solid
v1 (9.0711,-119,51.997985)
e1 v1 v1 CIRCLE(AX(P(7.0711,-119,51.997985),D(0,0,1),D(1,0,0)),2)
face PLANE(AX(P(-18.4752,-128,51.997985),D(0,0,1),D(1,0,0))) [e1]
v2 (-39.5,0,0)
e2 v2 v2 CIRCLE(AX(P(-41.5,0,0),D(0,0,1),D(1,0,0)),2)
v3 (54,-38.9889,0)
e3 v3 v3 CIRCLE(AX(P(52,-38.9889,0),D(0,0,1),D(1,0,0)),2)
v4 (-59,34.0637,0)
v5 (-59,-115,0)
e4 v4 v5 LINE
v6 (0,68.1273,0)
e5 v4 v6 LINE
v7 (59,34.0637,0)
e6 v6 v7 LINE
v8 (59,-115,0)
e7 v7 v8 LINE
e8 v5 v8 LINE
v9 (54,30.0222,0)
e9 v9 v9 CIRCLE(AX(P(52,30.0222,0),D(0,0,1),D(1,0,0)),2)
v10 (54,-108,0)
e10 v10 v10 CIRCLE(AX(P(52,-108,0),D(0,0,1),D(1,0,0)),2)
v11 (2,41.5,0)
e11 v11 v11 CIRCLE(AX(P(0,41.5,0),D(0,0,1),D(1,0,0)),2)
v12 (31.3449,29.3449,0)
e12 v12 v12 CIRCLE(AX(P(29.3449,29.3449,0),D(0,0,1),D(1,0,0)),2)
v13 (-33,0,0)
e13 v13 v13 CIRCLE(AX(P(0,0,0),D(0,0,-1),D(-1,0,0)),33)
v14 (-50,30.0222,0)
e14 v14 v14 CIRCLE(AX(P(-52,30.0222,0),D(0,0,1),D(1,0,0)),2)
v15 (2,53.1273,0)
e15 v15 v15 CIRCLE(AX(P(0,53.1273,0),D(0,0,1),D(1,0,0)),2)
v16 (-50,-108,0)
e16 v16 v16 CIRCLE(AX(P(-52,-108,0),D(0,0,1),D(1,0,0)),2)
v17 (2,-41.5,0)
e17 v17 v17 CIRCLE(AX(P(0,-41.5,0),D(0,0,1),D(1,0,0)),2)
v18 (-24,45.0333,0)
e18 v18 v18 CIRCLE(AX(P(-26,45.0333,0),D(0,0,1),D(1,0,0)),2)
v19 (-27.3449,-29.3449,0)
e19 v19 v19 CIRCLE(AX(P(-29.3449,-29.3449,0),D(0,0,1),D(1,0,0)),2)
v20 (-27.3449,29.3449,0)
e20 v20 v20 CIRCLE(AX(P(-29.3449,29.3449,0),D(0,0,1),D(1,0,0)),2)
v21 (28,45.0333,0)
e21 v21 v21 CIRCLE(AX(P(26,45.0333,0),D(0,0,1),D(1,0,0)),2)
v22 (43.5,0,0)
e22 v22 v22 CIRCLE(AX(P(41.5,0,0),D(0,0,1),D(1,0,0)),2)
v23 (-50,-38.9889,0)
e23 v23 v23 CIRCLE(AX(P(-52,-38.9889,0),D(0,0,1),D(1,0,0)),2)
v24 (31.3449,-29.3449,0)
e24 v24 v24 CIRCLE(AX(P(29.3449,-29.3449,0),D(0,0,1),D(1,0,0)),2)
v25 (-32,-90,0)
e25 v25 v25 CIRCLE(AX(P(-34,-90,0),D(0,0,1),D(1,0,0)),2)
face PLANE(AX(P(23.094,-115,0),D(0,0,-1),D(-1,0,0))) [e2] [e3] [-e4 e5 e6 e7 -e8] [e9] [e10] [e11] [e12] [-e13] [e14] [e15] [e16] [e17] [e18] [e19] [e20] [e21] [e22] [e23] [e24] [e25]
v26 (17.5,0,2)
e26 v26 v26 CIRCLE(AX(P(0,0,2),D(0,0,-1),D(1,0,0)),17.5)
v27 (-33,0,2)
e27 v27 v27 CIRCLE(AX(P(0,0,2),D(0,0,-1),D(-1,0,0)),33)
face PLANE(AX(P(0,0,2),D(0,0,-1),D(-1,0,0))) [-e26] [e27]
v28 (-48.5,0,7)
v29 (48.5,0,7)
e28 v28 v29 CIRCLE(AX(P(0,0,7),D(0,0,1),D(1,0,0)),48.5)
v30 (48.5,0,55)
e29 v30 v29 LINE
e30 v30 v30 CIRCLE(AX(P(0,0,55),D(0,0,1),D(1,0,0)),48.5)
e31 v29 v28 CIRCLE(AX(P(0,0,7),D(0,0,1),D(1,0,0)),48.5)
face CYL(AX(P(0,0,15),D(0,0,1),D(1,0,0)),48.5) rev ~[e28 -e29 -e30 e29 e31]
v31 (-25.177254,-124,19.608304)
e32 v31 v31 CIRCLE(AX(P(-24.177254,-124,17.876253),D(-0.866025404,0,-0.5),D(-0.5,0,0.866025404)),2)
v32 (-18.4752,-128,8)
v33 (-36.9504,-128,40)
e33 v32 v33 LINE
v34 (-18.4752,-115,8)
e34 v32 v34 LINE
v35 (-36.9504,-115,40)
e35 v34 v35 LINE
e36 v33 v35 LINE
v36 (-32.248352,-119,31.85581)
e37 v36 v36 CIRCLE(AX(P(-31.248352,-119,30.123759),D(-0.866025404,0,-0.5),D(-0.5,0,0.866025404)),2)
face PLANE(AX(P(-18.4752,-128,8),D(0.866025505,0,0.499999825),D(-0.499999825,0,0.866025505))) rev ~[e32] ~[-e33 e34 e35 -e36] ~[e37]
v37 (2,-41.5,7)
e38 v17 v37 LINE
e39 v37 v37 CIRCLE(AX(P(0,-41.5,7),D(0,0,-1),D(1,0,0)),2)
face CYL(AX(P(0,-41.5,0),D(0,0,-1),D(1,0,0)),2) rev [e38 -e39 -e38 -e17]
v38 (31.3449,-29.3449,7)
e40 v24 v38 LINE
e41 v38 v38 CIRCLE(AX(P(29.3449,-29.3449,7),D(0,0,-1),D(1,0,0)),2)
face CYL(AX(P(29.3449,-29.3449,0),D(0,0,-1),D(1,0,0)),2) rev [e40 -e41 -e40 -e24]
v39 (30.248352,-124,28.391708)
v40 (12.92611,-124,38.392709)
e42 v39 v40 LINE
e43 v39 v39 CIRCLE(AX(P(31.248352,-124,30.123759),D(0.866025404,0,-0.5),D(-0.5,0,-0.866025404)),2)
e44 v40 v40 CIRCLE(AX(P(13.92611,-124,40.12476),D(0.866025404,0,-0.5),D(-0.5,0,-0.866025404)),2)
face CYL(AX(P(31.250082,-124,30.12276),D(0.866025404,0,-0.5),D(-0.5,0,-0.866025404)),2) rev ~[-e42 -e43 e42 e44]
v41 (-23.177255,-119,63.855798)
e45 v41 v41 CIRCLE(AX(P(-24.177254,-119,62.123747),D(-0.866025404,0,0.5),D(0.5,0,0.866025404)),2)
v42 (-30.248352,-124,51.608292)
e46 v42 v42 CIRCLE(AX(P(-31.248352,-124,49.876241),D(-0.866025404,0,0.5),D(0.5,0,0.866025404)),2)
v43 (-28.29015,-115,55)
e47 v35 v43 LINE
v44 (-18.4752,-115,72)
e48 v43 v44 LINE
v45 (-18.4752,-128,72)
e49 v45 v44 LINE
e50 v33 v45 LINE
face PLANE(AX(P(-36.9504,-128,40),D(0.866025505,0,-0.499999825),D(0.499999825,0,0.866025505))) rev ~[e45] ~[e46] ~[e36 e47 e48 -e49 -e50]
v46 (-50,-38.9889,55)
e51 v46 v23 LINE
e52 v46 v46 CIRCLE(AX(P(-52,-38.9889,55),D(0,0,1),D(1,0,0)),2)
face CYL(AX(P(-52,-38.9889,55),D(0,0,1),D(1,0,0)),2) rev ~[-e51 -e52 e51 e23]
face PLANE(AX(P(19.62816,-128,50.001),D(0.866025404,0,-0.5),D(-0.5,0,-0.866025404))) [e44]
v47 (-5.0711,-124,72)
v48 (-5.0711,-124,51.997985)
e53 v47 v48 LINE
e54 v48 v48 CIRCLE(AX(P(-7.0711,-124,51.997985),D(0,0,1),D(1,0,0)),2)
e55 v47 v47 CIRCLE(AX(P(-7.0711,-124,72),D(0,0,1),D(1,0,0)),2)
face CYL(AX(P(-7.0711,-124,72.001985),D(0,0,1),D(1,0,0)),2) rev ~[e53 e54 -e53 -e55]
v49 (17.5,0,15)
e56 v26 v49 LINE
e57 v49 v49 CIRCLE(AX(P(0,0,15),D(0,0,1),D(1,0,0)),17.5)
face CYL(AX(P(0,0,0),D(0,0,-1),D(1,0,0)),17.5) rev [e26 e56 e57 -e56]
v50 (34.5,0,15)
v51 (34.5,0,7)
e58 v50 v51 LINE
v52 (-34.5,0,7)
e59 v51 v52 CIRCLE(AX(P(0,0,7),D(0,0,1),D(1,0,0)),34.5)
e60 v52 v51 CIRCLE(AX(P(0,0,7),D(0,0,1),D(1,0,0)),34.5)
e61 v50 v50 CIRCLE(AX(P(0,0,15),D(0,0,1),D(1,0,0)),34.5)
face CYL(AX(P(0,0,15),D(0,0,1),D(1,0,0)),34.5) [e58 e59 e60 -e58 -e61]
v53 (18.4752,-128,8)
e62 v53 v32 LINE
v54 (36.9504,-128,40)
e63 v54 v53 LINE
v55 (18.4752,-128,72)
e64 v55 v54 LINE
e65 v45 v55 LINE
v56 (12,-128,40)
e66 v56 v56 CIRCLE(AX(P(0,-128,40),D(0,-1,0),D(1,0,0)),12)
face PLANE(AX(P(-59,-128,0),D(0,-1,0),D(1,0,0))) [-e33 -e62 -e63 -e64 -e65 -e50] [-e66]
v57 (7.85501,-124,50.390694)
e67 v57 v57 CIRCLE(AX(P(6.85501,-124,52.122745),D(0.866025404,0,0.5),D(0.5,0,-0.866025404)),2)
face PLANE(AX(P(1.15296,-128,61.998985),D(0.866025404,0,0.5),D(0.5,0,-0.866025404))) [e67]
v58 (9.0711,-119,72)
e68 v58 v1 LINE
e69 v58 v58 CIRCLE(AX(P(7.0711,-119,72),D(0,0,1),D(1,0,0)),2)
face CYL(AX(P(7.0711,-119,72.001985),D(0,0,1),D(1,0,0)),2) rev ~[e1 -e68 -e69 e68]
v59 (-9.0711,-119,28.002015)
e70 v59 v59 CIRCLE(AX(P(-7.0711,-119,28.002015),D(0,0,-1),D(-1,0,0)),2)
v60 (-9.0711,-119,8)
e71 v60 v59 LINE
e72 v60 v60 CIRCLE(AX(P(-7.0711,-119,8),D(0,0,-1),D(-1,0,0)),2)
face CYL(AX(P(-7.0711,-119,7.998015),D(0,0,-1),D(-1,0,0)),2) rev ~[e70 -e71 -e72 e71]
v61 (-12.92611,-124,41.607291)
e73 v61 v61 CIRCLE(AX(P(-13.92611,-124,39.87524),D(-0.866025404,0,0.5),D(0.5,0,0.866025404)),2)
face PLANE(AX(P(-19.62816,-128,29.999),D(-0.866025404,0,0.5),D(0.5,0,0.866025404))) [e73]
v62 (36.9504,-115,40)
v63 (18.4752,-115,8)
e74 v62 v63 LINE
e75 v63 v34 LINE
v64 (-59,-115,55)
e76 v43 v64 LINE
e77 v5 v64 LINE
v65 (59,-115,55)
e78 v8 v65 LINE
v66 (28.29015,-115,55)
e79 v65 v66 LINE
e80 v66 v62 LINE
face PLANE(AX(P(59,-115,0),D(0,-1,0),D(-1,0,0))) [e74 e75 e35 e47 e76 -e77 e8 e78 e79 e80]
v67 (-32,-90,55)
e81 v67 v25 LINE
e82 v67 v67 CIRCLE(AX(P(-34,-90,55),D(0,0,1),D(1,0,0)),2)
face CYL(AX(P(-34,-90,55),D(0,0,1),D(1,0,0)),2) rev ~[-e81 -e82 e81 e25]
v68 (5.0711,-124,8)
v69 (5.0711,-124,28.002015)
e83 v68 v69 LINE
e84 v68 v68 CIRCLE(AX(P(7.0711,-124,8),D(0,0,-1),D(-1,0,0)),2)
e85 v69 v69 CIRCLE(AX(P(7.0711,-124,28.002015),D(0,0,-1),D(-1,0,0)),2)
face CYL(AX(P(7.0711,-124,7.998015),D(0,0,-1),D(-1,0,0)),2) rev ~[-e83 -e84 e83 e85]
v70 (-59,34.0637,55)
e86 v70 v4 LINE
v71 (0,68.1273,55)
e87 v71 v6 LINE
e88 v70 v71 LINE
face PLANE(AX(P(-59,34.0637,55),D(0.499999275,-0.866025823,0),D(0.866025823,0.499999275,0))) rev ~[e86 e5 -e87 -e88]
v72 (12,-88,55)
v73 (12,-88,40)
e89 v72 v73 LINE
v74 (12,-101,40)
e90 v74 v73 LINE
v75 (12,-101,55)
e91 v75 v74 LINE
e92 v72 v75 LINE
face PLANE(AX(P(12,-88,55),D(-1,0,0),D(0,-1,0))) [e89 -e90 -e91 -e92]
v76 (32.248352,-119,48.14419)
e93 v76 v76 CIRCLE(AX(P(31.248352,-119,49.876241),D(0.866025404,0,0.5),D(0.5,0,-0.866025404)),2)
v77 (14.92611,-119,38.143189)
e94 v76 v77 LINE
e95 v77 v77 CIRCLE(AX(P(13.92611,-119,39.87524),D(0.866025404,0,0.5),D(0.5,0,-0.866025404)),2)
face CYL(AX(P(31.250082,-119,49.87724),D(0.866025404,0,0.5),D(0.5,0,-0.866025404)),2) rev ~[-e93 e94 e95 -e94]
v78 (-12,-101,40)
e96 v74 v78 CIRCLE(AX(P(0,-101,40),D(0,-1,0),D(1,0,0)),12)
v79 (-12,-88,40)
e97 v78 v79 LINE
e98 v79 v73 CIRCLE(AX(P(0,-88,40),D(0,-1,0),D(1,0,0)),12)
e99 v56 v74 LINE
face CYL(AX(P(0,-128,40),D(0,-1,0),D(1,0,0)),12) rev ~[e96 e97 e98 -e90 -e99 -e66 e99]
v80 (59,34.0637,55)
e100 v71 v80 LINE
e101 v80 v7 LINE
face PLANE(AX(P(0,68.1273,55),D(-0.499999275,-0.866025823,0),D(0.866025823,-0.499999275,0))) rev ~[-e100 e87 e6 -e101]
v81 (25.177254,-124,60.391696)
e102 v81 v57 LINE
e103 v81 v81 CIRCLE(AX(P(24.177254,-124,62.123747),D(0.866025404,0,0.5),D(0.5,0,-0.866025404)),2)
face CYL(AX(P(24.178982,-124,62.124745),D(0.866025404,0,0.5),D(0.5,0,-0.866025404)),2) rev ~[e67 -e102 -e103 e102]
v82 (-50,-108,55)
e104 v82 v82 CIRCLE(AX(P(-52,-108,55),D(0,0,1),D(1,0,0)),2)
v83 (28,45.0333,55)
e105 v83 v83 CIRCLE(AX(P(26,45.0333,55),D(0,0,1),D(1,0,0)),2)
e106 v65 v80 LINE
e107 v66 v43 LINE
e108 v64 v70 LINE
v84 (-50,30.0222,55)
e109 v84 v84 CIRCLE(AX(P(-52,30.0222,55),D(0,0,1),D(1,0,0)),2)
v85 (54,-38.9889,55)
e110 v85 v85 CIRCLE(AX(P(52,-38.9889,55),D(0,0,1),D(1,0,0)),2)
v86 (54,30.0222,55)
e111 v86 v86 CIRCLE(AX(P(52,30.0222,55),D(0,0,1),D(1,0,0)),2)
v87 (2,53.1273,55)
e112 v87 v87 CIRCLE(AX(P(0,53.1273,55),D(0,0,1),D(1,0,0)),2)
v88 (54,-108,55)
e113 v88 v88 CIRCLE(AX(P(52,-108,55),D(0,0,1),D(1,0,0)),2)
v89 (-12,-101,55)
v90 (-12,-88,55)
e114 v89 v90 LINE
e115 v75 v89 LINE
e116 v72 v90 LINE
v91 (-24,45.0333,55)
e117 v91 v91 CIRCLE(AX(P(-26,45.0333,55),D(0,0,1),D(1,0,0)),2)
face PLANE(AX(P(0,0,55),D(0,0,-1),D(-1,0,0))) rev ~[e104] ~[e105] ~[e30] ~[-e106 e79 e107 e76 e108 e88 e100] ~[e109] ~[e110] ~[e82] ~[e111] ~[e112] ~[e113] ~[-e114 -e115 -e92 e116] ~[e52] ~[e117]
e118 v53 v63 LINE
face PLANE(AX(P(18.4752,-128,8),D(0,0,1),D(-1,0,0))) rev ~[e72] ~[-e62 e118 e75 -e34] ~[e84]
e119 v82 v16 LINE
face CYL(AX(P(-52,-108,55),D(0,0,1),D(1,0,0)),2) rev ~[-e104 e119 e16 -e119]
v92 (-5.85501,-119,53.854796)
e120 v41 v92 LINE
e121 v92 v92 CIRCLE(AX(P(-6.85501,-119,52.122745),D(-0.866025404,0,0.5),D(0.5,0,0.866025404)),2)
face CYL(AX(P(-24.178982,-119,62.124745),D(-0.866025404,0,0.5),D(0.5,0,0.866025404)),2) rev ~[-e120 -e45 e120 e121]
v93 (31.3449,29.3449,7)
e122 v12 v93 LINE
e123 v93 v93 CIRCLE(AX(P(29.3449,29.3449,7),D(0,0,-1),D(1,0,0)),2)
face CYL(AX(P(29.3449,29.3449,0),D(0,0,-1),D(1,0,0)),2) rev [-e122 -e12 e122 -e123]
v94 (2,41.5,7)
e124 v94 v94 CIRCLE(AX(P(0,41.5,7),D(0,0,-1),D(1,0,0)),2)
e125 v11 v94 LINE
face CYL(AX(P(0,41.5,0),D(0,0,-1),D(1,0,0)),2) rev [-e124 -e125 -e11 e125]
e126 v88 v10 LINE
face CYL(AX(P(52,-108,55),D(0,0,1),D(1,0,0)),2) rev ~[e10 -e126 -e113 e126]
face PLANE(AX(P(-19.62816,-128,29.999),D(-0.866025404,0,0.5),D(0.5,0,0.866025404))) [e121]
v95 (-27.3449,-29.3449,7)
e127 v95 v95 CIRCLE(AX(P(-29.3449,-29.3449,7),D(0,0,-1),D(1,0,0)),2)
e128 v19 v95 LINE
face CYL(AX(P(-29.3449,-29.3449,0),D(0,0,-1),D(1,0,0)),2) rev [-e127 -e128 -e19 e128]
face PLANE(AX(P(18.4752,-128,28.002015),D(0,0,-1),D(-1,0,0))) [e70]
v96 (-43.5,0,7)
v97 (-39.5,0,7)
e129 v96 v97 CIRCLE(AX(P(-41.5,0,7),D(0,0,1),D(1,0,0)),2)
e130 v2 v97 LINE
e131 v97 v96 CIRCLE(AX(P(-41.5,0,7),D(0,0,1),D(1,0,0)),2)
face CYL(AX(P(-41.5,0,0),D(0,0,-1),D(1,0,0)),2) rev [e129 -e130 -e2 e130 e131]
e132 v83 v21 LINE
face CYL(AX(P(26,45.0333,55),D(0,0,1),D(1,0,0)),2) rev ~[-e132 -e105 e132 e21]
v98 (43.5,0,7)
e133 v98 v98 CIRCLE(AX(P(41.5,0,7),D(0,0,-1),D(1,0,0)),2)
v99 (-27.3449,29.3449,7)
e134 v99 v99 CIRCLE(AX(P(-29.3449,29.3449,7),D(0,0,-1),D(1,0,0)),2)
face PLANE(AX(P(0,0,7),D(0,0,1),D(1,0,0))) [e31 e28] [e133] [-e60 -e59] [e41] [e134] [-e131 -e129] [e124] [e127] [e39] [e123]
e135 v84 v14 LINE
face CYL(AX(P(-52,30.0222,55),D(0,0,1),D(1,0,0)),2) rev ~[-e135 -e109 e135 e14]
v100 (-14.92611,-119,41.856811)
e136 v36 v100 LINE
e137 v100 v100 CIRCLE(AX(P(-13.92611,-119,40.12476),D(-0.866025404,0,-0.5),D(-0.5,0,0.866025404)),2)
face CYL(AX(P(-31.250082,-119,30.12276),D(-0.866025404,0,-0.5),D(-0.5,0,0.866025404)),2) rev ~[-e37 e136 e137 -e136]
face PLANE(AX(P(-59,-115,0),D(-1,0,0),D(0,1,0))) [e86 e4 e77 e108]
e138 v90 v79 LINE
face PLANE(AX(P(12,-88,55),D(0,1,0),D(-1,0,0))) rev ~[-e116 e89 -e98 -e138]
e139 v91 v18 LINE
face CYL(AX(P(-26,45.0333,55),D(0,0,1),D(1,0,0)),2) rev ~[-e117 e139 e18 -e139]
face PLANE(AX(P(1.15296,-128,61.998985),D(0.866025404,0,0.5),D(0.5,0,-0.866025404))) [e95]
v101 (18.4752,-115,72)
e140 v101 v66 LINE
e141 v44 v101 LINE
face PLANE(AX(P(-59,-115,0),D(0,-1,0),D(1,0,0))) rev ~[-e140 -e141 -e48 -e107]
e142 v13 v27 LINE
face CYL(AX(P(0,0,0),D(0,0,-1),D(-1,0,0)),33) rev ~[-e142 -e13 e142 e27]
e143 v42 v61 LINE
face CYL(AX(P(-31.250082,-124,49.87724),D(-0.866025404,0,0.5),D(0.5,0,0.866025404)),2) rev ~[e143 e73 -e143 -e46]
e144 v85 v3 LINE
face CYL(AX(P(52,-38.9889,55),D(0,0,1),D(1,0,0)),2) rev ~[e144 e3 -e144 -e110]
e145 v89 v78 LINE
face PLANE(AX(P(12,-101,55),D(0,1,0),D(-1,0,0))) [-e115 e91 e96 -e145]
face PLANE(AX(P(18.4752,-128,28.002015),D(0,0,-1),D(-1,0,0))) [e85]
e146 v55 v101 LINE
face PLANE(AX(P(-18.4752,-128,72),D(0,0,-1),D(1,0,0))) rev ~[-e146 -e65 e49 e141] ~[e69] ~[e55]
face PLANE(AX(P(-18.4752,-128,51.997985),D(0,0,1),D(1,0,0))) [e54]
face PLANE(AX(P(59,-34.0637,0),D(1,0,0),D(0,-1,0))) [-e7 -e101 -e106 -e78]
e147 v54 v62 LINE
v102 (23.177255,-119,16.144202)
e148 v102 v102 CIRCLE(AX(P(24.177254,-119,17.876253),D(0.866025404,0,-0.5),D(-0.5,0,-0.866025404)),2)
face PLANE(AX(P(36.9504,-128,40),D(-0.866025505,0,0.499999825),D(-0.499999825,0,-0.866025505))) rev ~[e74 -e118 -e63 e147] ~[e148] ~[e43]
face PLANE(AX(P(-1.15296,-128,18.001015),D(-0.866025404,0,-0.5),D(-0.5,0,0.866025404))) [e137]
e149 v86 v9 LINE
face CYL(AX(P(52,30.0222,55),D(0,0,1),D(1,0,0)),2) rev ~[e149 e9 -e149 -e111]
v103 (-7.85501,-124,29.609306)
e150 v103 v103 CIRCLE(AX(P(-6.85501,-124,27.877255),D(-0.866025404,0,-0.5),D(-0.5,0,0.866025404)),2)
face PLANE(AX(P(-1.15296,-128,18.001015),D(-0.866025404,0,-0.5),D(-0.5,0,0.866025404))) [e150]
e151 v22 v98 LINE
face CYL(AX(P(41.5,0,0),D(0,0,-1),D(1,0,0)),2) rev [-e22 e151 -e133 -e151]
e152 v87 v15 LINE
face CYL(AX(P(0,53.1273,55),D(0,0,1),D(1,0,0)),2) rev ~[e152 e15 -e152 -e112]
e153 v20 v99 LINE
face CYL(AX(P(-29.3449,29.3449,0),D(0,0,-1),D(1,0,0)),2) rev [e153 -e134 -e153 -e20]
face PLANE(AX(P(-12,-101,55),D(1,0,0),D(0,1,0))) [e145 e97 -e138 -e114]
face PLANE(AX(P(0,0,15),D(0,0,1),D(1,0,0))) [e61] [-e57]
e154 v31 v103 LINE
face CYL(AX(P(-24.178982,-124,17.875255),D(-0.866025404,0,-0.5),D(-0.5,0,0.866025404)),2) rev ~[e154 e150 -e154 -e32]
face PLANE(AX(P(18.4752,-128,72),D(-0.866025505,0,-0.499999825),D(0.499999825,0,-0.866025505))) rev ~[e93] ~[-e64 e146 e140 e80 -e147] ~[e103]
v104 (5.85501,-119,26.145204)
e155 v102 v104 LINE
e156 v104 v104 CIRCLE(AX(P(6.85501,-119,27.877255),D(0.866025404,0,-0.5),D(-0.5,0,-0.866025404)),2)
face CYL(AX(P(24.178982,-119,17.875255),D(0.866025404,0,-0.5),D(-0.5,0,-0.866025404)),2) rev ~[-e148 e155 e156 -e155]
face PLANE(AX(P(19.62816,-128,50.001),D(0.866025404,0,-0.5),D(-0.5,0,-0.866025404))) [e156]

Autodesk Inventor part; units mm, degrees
ref_plane "YZ Plane" through (0, 0, 0) normal (1, 0, 0) x (0, 1, 0)
ref_plane "XZ Plane" through (0, 0, 0) normal (0, 1, 0) x (-1, 0, 0)
ref_plane "XY Plane" through (0, 0, 0) normal (0, 0, 1) x (1, 0, 0)
sketch "Sketch1" plane through (0, 0, 0) normal (0, 0, 1) x (1, 0, 0)
  circle A0 centre (0, 0) radius 17.5
  circle A1 centre (0, 0) radius 67.5
  circle A2 centre (41.5, 0) radius 2
  circle A3 centre (29.3449, 29.3449) radius 2
  circle A4 centre (0, 41.5) radius 2
  circle A5 centre (-29.3449, 29.3449) radius 2
  circle A6 centre (-41.5, 0) radius 2
  circle A7 centre (-29.3449, -29.3449) radius 2
  circle A8 centre (0, -41.5) radius 2
  circle A9 centre (29.3449, -29.3449) radius 2
  dimension "d0" = 35
  dimension "d1" = 135
  dimension "d2" = 4
  dimension "d3" = 41.5
  dimension "d6" = 360
extrude "Extrusion1" add sketch "Sketch1" along normal blind 15
sketch "Sketch5" plane through (0, 0, 15) normal (0, 0, 1) x (1, 0, 0)
  circle A0 centre (0, 0) radius 67.5 projected
  circle A1 centre (0, 0) radius 48.5
  dimension "d19" = 97
extrude "Extrusion4" add sketch "Sketch5" along normal blind 40
sketch "Sketch11" plane through (0, 0, 55) normal (0, 0, 1) x (1, 0, 0)
  line L0 (0, 77.9423) -> (67.5, 38.9711)
  line L1 (67.5, 38.9711) -> (67.5, -38.9711)
  line L2 (67.5, -38.9711) -> (0, -77.9423)
  line L3 (0, -77.9423) -> (-67.5, -38.9711)
  line L4 (-67.5, -38.9711) -> (-67.5, 38.9711)
  line L5 (-67.5, 38.9711) -> (0, 77.9423)
  circle A0 centre (0, 0) radius 67.5 projected
extrude "Extrusion8" add sketch "Sketch11" against normal blind 55 contours L0 A0 L5 | L0 L1 A0 | A0 L4 L5 | L1 L2 A0 | A0 L3 L4 | L2 L3 A0
sketch "Sketch16" plane through (0, 0, 15) normal (0, 0, 1) x (1, 0, 0)
  circle A0 centre (-41.5, 0) radius 2 projected
  circle A1 centre (0, 0) radius 34.5
  circle A2 centre (0, 0) radius 48.5
  line L0 (-48.5, 0) -> (-34.5, 0)
  circle A3 centre (0, 0) radius 48.5 projected
extrude "Extrusion11" cut sketch "Sketch16" against normal blind 8
sketch "Sketch19" plane through (0, 0, 55) normal (0, 0, 1) x (1, 0, 0)
  circle A0 centre (0, 0) radius 48.5 projected
  line L0 (0, -77.9423) -> (-67.5, -38.9711) projected
  line L1 (67.5, -38.9711) -> (0, -77.9423) projected
  line L2 (67.5, 38.9711) -> (67.5, -38.9711) projected
  line L3 (0, 77.9423) -> (67.5, 38.9711) projected
  line L4 (-67.5, 38.9711) -> (0, 77.9423) projected
  line L5 (-67.5, -38.9711) -> (-67.5, 38.9711) projected
  line L6 (0, 68.1273) -> (59, 34.0637)
  line L7 (59, 34.0637) -> (59, -34.0637)
  line L8 (59, -34.0637) -> (0, -68.1273)
  line L9 (0, -68.1273) -> (-59, -34.0637)
  line L10 (-59, -34.0637) -> (-59, 34.0637)
  line L11 (-59, 34.0637) -> (0, 68.1273)
  dimension "d58" = 118
extrude "Extrusion13" cut sketch "Sketch19" against normal through all contours L0 L5 L4 L3 L2 L1
sketch "Sketch20" plane through (0, 0, 0) normal (0, 0, -1) x (-1, 0, 0)
  line L0 (-59, -34.0637) -> (-59, -115)
  line L1 (-59, -115) -> (59, -115)
  line L2 (59, -34.0637) -> (59, 34.0637) projected
  line L3 (59, -115) -> (59, -34.0637)
  line L4 (-59, -34.0637) -> (0, -68.1273) projected
  line L5 (0, -68.1273) -> (59, -34.0637) projected
  line L6 (-59, -34.0637) -> (0, -68.1273)
  line L7 (0, -68.1273) -> (59, -34.0637)
  point P0 (0, 0)
  dimension "d61" = 115
extrude "Extrusion14" add sketch "Sketch20" against normal blind 55
sketch "Sketch22" plane through (0, 0, 55) normal (0, 0, 1) x (1, 0, 0)
  line L0 (59, -115) -> (59, 34.0637) construction
  line L1 (59, 34.0637) -> (0, 68.1273) construction
  line L2 (0, 68.1273) -> (-59, 34.0637) construction
  line L3 (-59, 34.0637) -> (-59, -115) construction
  line L4 (-59, -115) -> (59, -115) construction
  line L5 (52, 30.0222) -> (52, -108) construction
  line L6 (52, -108) -> (-52, -108) construction
  line L7 (-52, -108) -> (-52, 30.0222) construction
  line L8 (-52, 30.0222) -> (0, 60.0444) construction
  line L9 (0, 60.0444) -> (52, 30.0222) construction
  circle A0 centre (-52, -108) radius 2
  circle A1 centre (52, -108) radius 2
  circle A2 centre (0, 60.0444) radius 2
  circle A3 centre (-52, 30.0222) radius 2
  circle A4 centre (52, 30.0222) radius 2
  circle A5 centre (-26, -108) radius 2
  circle A6 centre (26, -108) radius 2
  circle A7 centre (0, -108) radius 2
  circle A8 centre (-52, -68.9889) radius 2
  circle A9 centre (-52, -38.9889) radius 2
  circle A10 centre (-52, 0) radius 2
  circle A11 centre (52, 0) radius 2
  circle A12 centre (52, -38.9889) radius 2
  circle A13 centre (52, -68.9889) radius 2
  circle A14 centre (-26, 45.0333) radius 2
  circle A15 centre (26, 45.0333) radius 2
  point P0 (0, 0)
  point P1 (0, 0)
  point P2 (0, 68.1273)
  point P3 (59, 34.0637)
  dimension "d64" = 7
  dimension "d65" = 4
  dimension "d66" = 4
  dimension "d67" = 4
  dimension "d68" = 4
  dimension "d69" = 4
  dimension "d70" = 4
  dimension "d71" = 4
  dimension "d72" = 4
  dimension "d73" = 4
  dimension "d74" = 4
  dimension "d75" = 4
  dimension "d76" = 4
  dimension "d77" = 4
  dimension "d78" = 4
  dimension "d79" = 4
  dimension "d80" = 4
  dimension "d81" = 30
extrude "Extrusion15" cut sketch "Sketch22" against normal through all contours A0 | A1 | A3 | A4 | A9 | A12 | A14 | A15
sketch "Sketch23" plane through (-59, -115, 0) normal (0, -1, 0) x (1, 0, 0)
  line L0 (12.812, 40) -> (35.906, 80)
  line L1 (35.906, 80) -> (82.094, 80)
  line L2 (82.094, 80) -> (105.188, 40)
  line L3 (105.188, 40) -> (82.094, 0)
  line L4 (82.094, 0) -> (35.906, 0)
  line L5 (35.906, 0) -> (12.812, 40)
  line L6 (118, 0) -> (0, 0) projected
  point P0 (59, 0)
  point P1 (59, 40)
  point P2 (59, 0)
  point P3 (59, 0)
  dimension "d87" = 80
extrude "Extrusion16" add sketch "Sketch23" along normal blind 13
sketch "Sketch24" plane through (-59, -128, 0) normal (0, -1, 0) x (1, 0, 0)
  line L0 (35.906, 80) -> (12.812, 40) projected
  line L1 (12.812, 40) -> (35.906, 0) projected
  line L2 (35.906, 0) -> (82.094, 0) projected
  line L3 (82.094, 0) -> (105.188, 40) projected
  line L4 (105.188, 40) -> (82.094, 80) projected
  line L5 (82.094, 80) -> (35.906, 80) projected
  line L6 (40.5248, 8) -> (22.0496, 40)
  line L7 (22.0496, 40) -> (40.5248, 72)
  line L8 (40.5248, 72) -> (77.4752, 72)
  line L9 (77.4752, 72) -> (95.9504, 40)
  line L10 (95.9504, 40) -> (77.4752, 8)
  line L11 (77.4752, 8) -> (40.5248, 8)
  point P0 (59, 0)
  dimension "d88" = 8
extrude "Extrusion17" cut sketch "Sketch24" against normal up to surface (13 mm away) from surface at 0
sketch "Sketch25" plane through (-59, -128, 0) normal (0, -1, 0) x (1, 0, 0)
  line L0 (95.9504, 40) -> (77.4752, 72) projected
  line L1 (77.4752, 72) -> (40.5248, 72) projected
  line L2 (40.5248, 72) -> (22.0496, 40) projected
  line L3 (22.0496, 40) -> (40.5248, 8) projected
  line L4 (40.5248, 8) -> (77.4752, 8) projected
  line L5 (77.4752, 8) -> (95.9504, 40) projected
  circle A0 centre (59, 40) radius 12
  point P0 (59, 0)
  point P1 (59, 72)
  dimension "d91" = 24
extrude "Extrusion18" cut sketch "Sketch25" against normal blind 40 contours A0
sketch "Sketch26" plane through (0, 0, 55) normal (0, 0, 1) x (1, 0, 0)
  line L0 (12, -88) -> (-12, -88) projected
  line L1 (12, -128) -> (-12, -128) projected
  line L2 (12, -88) -> (-12, -88) projected
  line L3 (-12, -88) -> (12, -88)
  line L4 (12, -88) -> (12, -101)
  line L5 (12, -101) -> (-12, -101)
  line L6 (-12, -101) -> (-12, -88)
  point P0 (0, 0)
  dimension "d94" = 13
extrude "Extrusion19" cut sketch "Sketch26" against normal blind 15
sketch "Sketch27" plane through (-36.9504, -128, 40) normal (-0.866, 0, 0.5) x (0.5, 0, 0.866)
  line L0 (17.3205, 13) -> (36.9504, 13) projected
  line L1 (17.3205, 13) -> (0, 13) projected
  line L2 (0, 0) -> (0, 13) projected
  line L3 (36.9504, 0) -> (0, 0) projected
  line L4 (36.9504, 0) -> (36.9504, 13) projected
  circle A0 centre (11.4041, 4) radius 2
  circle A1 centre (25.5463, 9) radius 2
  line L5 (11.4041, 4) -> (25.5463, 9) construction
  line L6 (0, 13) -> (36.9504, 13) projected
  point P0 (-16.1658, 128)
  point P1 (18.4752, 6.5)
  point P2 (18.4752, 13)
  point P3 (0, 6.5)
  dimension "d97" = 4
  dimension "d98" = 4
  dimension "d99" = 15
  dimension "d112" = 5
extrude "Extrusion20" cut sketch "Sketch27" against normal blind 20 contours A0 | A1
pattern_circular "Circular Pattern1" count 6 over 360 about axis through (0, -128, 40) along (0, 1, 0) of "Extrusion20"
sketch "Sketch28" plane through (0, 0, 55) normal (0, 0, 1) x (1, 0, 0)
  circle A0 centre (0, 53.1273) radius 2
  circle A1 centre (-34, -90) radius 2
  line L0 (-59, 34.0637) -> (-59, -115) projected
  line L1 (-59, -115) -> (-28.2902, -115) projected
  point P0 (0, 0)
  point P1 (0, 68.1273)
  dimension "d105" = 4
  dimension "d106" = 15
  dimension "d107" = 4
  dimension "d108" = 25
  dimension "d109" = 25
extrude "Extrusion21" cut sketch "Sketch28" against normal through all
sketch "Sketch30" plane through (0, 0, 55) normal (0, 0, 1) x (1, 0, 0)
  circle A0 centre (0, 0) radius 48.5 construction
  line L0 (12, -88) -> (12, -101) construction
  line L1 (12, -88) -> (-12, -88) construction
  line L2 (-12, -88) -> (-12, -101) construction
  line L3 (-12, -101) -> (12, -101) construction
  line L4 (12, -128) -> (-12, -128) construction
  circle A1 centre (-34, -90) radius 2 construction
  line L5 (-17, -83) -> (17, -83) construction
  line L6 (17, -83) -> (17, -106) construction
  line L7 (17, -106) -> (-17, -106) construction
  line L8 (-17, -106) -> (-17, -83) construction
  circle A2 centre (-34, -90) radius 7 construction
  circle A3 centre (0, 0) radius 53.5 construction
  circle A4 centre (0, 53.1273) radius 2 construction
  circle A5 centre (-34, -90) radius 2 construction
  line L9 (-12, -101) -> (-12, -88) construction
  line L10 (-12, -88) -> (12, -88) construction
  line L11 (12, -88) -> (12, -101) construction
  line L12 (12, -101) -> (-12, -101) construction
  circle A6 centre (26, 45.0333) radius 2 construction
  circle A7 centre (-52, 30.0222) radius 2 construction
  circle A8 centre (-52, -108) radius 2 construction
  circle A9 centre (52, -38.9889) radius 2 construction
  circle A10 centre (52, -108) radius 2 construction
  circle A11 centre (-52, -38.9889) radius 2 construction
  circle A12 centre (-26, 45.0333) radius 2 construction
  circle A13 centre (52, 30.0222) radius 2 construction
  line L13 (0, 68.1273) -> (-59, 34.0637) construction
  line L14 (-59, 34.0637) -> (-59, -115) construction
  line L15 (-59, -115) -> (-28.2902, -115) construction
  line L16 (-28.2902, -115) -> (28.2902, -115) construction
  line L17 (28.2902, -115) -> (59, -115) construction
  line L18 (59, -115) -> (59, 34.0637) construction
  line L19 (59, 34.0637) -> (0, 68.1273) construction
  circle A14 centre (0, 0) radius 48.5 construction
  line L20 (-46, -102) -> (-46, 26.5581) construction
  line L21 (-46, 26.5581) -> (0, 53.1162) construction
  line L22 (0, 53.1162) -> (46, 26.5581) construction
  line L23 (46, 26.5581) -> (46, -102) construction
  line L24 (46, -102) -> (28.2902, -102) construction
  line L25 (28.2902, -102) -> (-28.2902, -102) construction
  line L26 (-28.2902, -102) -> (-46, -102) construction
  line L27 (-23, -50.9295) -> (-8, -59.5897)
  line L28 (-8, -59.5897) -> (-8, -76.9103)
  line L29 (-8, -76.9103) -> (-23, -85.5705)
  line L30 (-23, -85.5705) -> (-38, -76.9103)
  line L31 (-38, -76.9103) -> (-38, -59.5897)
  line L32 (-38, -59.5897) -> (-23, -50.9295)
  line L33 (23, -50.9295) -> (38, -59.5897)
  line L34 (38, -59.5897) -> (38, -76.9103)
  line L35 (38, -76.9103) -> (23, -85.5705)
  line L36 (23, -85.5705) -> (8, -76.9103)
  line L37 (8, -76.9103) -> (8, -59.5897)
  line L38 (8, -59.5897) -> (23, -50.9295)
  line L39 (0, -83) -> (-46, -83) construction
  line L40 (0, -83) -> (46, -83) construction
  line L41 (0, -53.5) -> (0, -83) construction
  point P0 (-23, -68.25)
  point P1 (23, -68.25)
  point P2 (-23, -83)
  point P3 (23, -83)
  point P4 (0, -68.25)
  dimension "d121" = 5
  dimension "d122" = 5
  dimension "d123" = 5
  dimension "d124" = 13
  dimension "d125" = 30
extrude "Extrusion23" [suppressed]
sketch "Sketch31" plane through (0, 0, 5) normal (0, 0, 1) x (1, 0, 0)
  line L0 (-52.3536, -52.747) -> (-52.3536, -97.747)
  line L1 (-52.3536, -97.747) -> (-41.747, -108.3536)
  line L2 (-41.747, -108.3536) -> (-26.747, -108.3536)
  circle A0 centre (-52, -108) radius 2 projected
  line L3 (-52, -108) -> (-47.0503, -103.0503)
  line L4 (-26.747, -98.3536) -> (-37.6048, -98.3536)
  line L5 (-37.6048, -98.3536) -> (-42.3536, -93.6048)
  line L6 (-42.3536, -93.6048) -> (-42.3536, -52.747)
  line L7 (-52.3536, -52.747) -> (-42.3536, -52.747)
  line L8 (-26.747, -98.3536) -> (-26.747, -108.3536)
  point P0 (0, 0)
  dimension "d128" = 45
  dimension "d129" = 15
  dimension "d130" = 15
  dimension "d131" = 135
  dimension "d132" = 7
  dimension "d133" = 10
extrude "Extrusion24" [suppressed]
mirror "Mirror1" [suppressed]
sketch "Sketch32" plane through (0, 0, 0) normal (0, 0, -1) x (-1, 0, 0)
  circle A0 centre (0, 0) radius 33
  dimension "d139" = 66
extrude "Extrusion25" cut sketch "Sketch32" against normal blind 2
properties part number "AC01" material "ABS Plastic"
